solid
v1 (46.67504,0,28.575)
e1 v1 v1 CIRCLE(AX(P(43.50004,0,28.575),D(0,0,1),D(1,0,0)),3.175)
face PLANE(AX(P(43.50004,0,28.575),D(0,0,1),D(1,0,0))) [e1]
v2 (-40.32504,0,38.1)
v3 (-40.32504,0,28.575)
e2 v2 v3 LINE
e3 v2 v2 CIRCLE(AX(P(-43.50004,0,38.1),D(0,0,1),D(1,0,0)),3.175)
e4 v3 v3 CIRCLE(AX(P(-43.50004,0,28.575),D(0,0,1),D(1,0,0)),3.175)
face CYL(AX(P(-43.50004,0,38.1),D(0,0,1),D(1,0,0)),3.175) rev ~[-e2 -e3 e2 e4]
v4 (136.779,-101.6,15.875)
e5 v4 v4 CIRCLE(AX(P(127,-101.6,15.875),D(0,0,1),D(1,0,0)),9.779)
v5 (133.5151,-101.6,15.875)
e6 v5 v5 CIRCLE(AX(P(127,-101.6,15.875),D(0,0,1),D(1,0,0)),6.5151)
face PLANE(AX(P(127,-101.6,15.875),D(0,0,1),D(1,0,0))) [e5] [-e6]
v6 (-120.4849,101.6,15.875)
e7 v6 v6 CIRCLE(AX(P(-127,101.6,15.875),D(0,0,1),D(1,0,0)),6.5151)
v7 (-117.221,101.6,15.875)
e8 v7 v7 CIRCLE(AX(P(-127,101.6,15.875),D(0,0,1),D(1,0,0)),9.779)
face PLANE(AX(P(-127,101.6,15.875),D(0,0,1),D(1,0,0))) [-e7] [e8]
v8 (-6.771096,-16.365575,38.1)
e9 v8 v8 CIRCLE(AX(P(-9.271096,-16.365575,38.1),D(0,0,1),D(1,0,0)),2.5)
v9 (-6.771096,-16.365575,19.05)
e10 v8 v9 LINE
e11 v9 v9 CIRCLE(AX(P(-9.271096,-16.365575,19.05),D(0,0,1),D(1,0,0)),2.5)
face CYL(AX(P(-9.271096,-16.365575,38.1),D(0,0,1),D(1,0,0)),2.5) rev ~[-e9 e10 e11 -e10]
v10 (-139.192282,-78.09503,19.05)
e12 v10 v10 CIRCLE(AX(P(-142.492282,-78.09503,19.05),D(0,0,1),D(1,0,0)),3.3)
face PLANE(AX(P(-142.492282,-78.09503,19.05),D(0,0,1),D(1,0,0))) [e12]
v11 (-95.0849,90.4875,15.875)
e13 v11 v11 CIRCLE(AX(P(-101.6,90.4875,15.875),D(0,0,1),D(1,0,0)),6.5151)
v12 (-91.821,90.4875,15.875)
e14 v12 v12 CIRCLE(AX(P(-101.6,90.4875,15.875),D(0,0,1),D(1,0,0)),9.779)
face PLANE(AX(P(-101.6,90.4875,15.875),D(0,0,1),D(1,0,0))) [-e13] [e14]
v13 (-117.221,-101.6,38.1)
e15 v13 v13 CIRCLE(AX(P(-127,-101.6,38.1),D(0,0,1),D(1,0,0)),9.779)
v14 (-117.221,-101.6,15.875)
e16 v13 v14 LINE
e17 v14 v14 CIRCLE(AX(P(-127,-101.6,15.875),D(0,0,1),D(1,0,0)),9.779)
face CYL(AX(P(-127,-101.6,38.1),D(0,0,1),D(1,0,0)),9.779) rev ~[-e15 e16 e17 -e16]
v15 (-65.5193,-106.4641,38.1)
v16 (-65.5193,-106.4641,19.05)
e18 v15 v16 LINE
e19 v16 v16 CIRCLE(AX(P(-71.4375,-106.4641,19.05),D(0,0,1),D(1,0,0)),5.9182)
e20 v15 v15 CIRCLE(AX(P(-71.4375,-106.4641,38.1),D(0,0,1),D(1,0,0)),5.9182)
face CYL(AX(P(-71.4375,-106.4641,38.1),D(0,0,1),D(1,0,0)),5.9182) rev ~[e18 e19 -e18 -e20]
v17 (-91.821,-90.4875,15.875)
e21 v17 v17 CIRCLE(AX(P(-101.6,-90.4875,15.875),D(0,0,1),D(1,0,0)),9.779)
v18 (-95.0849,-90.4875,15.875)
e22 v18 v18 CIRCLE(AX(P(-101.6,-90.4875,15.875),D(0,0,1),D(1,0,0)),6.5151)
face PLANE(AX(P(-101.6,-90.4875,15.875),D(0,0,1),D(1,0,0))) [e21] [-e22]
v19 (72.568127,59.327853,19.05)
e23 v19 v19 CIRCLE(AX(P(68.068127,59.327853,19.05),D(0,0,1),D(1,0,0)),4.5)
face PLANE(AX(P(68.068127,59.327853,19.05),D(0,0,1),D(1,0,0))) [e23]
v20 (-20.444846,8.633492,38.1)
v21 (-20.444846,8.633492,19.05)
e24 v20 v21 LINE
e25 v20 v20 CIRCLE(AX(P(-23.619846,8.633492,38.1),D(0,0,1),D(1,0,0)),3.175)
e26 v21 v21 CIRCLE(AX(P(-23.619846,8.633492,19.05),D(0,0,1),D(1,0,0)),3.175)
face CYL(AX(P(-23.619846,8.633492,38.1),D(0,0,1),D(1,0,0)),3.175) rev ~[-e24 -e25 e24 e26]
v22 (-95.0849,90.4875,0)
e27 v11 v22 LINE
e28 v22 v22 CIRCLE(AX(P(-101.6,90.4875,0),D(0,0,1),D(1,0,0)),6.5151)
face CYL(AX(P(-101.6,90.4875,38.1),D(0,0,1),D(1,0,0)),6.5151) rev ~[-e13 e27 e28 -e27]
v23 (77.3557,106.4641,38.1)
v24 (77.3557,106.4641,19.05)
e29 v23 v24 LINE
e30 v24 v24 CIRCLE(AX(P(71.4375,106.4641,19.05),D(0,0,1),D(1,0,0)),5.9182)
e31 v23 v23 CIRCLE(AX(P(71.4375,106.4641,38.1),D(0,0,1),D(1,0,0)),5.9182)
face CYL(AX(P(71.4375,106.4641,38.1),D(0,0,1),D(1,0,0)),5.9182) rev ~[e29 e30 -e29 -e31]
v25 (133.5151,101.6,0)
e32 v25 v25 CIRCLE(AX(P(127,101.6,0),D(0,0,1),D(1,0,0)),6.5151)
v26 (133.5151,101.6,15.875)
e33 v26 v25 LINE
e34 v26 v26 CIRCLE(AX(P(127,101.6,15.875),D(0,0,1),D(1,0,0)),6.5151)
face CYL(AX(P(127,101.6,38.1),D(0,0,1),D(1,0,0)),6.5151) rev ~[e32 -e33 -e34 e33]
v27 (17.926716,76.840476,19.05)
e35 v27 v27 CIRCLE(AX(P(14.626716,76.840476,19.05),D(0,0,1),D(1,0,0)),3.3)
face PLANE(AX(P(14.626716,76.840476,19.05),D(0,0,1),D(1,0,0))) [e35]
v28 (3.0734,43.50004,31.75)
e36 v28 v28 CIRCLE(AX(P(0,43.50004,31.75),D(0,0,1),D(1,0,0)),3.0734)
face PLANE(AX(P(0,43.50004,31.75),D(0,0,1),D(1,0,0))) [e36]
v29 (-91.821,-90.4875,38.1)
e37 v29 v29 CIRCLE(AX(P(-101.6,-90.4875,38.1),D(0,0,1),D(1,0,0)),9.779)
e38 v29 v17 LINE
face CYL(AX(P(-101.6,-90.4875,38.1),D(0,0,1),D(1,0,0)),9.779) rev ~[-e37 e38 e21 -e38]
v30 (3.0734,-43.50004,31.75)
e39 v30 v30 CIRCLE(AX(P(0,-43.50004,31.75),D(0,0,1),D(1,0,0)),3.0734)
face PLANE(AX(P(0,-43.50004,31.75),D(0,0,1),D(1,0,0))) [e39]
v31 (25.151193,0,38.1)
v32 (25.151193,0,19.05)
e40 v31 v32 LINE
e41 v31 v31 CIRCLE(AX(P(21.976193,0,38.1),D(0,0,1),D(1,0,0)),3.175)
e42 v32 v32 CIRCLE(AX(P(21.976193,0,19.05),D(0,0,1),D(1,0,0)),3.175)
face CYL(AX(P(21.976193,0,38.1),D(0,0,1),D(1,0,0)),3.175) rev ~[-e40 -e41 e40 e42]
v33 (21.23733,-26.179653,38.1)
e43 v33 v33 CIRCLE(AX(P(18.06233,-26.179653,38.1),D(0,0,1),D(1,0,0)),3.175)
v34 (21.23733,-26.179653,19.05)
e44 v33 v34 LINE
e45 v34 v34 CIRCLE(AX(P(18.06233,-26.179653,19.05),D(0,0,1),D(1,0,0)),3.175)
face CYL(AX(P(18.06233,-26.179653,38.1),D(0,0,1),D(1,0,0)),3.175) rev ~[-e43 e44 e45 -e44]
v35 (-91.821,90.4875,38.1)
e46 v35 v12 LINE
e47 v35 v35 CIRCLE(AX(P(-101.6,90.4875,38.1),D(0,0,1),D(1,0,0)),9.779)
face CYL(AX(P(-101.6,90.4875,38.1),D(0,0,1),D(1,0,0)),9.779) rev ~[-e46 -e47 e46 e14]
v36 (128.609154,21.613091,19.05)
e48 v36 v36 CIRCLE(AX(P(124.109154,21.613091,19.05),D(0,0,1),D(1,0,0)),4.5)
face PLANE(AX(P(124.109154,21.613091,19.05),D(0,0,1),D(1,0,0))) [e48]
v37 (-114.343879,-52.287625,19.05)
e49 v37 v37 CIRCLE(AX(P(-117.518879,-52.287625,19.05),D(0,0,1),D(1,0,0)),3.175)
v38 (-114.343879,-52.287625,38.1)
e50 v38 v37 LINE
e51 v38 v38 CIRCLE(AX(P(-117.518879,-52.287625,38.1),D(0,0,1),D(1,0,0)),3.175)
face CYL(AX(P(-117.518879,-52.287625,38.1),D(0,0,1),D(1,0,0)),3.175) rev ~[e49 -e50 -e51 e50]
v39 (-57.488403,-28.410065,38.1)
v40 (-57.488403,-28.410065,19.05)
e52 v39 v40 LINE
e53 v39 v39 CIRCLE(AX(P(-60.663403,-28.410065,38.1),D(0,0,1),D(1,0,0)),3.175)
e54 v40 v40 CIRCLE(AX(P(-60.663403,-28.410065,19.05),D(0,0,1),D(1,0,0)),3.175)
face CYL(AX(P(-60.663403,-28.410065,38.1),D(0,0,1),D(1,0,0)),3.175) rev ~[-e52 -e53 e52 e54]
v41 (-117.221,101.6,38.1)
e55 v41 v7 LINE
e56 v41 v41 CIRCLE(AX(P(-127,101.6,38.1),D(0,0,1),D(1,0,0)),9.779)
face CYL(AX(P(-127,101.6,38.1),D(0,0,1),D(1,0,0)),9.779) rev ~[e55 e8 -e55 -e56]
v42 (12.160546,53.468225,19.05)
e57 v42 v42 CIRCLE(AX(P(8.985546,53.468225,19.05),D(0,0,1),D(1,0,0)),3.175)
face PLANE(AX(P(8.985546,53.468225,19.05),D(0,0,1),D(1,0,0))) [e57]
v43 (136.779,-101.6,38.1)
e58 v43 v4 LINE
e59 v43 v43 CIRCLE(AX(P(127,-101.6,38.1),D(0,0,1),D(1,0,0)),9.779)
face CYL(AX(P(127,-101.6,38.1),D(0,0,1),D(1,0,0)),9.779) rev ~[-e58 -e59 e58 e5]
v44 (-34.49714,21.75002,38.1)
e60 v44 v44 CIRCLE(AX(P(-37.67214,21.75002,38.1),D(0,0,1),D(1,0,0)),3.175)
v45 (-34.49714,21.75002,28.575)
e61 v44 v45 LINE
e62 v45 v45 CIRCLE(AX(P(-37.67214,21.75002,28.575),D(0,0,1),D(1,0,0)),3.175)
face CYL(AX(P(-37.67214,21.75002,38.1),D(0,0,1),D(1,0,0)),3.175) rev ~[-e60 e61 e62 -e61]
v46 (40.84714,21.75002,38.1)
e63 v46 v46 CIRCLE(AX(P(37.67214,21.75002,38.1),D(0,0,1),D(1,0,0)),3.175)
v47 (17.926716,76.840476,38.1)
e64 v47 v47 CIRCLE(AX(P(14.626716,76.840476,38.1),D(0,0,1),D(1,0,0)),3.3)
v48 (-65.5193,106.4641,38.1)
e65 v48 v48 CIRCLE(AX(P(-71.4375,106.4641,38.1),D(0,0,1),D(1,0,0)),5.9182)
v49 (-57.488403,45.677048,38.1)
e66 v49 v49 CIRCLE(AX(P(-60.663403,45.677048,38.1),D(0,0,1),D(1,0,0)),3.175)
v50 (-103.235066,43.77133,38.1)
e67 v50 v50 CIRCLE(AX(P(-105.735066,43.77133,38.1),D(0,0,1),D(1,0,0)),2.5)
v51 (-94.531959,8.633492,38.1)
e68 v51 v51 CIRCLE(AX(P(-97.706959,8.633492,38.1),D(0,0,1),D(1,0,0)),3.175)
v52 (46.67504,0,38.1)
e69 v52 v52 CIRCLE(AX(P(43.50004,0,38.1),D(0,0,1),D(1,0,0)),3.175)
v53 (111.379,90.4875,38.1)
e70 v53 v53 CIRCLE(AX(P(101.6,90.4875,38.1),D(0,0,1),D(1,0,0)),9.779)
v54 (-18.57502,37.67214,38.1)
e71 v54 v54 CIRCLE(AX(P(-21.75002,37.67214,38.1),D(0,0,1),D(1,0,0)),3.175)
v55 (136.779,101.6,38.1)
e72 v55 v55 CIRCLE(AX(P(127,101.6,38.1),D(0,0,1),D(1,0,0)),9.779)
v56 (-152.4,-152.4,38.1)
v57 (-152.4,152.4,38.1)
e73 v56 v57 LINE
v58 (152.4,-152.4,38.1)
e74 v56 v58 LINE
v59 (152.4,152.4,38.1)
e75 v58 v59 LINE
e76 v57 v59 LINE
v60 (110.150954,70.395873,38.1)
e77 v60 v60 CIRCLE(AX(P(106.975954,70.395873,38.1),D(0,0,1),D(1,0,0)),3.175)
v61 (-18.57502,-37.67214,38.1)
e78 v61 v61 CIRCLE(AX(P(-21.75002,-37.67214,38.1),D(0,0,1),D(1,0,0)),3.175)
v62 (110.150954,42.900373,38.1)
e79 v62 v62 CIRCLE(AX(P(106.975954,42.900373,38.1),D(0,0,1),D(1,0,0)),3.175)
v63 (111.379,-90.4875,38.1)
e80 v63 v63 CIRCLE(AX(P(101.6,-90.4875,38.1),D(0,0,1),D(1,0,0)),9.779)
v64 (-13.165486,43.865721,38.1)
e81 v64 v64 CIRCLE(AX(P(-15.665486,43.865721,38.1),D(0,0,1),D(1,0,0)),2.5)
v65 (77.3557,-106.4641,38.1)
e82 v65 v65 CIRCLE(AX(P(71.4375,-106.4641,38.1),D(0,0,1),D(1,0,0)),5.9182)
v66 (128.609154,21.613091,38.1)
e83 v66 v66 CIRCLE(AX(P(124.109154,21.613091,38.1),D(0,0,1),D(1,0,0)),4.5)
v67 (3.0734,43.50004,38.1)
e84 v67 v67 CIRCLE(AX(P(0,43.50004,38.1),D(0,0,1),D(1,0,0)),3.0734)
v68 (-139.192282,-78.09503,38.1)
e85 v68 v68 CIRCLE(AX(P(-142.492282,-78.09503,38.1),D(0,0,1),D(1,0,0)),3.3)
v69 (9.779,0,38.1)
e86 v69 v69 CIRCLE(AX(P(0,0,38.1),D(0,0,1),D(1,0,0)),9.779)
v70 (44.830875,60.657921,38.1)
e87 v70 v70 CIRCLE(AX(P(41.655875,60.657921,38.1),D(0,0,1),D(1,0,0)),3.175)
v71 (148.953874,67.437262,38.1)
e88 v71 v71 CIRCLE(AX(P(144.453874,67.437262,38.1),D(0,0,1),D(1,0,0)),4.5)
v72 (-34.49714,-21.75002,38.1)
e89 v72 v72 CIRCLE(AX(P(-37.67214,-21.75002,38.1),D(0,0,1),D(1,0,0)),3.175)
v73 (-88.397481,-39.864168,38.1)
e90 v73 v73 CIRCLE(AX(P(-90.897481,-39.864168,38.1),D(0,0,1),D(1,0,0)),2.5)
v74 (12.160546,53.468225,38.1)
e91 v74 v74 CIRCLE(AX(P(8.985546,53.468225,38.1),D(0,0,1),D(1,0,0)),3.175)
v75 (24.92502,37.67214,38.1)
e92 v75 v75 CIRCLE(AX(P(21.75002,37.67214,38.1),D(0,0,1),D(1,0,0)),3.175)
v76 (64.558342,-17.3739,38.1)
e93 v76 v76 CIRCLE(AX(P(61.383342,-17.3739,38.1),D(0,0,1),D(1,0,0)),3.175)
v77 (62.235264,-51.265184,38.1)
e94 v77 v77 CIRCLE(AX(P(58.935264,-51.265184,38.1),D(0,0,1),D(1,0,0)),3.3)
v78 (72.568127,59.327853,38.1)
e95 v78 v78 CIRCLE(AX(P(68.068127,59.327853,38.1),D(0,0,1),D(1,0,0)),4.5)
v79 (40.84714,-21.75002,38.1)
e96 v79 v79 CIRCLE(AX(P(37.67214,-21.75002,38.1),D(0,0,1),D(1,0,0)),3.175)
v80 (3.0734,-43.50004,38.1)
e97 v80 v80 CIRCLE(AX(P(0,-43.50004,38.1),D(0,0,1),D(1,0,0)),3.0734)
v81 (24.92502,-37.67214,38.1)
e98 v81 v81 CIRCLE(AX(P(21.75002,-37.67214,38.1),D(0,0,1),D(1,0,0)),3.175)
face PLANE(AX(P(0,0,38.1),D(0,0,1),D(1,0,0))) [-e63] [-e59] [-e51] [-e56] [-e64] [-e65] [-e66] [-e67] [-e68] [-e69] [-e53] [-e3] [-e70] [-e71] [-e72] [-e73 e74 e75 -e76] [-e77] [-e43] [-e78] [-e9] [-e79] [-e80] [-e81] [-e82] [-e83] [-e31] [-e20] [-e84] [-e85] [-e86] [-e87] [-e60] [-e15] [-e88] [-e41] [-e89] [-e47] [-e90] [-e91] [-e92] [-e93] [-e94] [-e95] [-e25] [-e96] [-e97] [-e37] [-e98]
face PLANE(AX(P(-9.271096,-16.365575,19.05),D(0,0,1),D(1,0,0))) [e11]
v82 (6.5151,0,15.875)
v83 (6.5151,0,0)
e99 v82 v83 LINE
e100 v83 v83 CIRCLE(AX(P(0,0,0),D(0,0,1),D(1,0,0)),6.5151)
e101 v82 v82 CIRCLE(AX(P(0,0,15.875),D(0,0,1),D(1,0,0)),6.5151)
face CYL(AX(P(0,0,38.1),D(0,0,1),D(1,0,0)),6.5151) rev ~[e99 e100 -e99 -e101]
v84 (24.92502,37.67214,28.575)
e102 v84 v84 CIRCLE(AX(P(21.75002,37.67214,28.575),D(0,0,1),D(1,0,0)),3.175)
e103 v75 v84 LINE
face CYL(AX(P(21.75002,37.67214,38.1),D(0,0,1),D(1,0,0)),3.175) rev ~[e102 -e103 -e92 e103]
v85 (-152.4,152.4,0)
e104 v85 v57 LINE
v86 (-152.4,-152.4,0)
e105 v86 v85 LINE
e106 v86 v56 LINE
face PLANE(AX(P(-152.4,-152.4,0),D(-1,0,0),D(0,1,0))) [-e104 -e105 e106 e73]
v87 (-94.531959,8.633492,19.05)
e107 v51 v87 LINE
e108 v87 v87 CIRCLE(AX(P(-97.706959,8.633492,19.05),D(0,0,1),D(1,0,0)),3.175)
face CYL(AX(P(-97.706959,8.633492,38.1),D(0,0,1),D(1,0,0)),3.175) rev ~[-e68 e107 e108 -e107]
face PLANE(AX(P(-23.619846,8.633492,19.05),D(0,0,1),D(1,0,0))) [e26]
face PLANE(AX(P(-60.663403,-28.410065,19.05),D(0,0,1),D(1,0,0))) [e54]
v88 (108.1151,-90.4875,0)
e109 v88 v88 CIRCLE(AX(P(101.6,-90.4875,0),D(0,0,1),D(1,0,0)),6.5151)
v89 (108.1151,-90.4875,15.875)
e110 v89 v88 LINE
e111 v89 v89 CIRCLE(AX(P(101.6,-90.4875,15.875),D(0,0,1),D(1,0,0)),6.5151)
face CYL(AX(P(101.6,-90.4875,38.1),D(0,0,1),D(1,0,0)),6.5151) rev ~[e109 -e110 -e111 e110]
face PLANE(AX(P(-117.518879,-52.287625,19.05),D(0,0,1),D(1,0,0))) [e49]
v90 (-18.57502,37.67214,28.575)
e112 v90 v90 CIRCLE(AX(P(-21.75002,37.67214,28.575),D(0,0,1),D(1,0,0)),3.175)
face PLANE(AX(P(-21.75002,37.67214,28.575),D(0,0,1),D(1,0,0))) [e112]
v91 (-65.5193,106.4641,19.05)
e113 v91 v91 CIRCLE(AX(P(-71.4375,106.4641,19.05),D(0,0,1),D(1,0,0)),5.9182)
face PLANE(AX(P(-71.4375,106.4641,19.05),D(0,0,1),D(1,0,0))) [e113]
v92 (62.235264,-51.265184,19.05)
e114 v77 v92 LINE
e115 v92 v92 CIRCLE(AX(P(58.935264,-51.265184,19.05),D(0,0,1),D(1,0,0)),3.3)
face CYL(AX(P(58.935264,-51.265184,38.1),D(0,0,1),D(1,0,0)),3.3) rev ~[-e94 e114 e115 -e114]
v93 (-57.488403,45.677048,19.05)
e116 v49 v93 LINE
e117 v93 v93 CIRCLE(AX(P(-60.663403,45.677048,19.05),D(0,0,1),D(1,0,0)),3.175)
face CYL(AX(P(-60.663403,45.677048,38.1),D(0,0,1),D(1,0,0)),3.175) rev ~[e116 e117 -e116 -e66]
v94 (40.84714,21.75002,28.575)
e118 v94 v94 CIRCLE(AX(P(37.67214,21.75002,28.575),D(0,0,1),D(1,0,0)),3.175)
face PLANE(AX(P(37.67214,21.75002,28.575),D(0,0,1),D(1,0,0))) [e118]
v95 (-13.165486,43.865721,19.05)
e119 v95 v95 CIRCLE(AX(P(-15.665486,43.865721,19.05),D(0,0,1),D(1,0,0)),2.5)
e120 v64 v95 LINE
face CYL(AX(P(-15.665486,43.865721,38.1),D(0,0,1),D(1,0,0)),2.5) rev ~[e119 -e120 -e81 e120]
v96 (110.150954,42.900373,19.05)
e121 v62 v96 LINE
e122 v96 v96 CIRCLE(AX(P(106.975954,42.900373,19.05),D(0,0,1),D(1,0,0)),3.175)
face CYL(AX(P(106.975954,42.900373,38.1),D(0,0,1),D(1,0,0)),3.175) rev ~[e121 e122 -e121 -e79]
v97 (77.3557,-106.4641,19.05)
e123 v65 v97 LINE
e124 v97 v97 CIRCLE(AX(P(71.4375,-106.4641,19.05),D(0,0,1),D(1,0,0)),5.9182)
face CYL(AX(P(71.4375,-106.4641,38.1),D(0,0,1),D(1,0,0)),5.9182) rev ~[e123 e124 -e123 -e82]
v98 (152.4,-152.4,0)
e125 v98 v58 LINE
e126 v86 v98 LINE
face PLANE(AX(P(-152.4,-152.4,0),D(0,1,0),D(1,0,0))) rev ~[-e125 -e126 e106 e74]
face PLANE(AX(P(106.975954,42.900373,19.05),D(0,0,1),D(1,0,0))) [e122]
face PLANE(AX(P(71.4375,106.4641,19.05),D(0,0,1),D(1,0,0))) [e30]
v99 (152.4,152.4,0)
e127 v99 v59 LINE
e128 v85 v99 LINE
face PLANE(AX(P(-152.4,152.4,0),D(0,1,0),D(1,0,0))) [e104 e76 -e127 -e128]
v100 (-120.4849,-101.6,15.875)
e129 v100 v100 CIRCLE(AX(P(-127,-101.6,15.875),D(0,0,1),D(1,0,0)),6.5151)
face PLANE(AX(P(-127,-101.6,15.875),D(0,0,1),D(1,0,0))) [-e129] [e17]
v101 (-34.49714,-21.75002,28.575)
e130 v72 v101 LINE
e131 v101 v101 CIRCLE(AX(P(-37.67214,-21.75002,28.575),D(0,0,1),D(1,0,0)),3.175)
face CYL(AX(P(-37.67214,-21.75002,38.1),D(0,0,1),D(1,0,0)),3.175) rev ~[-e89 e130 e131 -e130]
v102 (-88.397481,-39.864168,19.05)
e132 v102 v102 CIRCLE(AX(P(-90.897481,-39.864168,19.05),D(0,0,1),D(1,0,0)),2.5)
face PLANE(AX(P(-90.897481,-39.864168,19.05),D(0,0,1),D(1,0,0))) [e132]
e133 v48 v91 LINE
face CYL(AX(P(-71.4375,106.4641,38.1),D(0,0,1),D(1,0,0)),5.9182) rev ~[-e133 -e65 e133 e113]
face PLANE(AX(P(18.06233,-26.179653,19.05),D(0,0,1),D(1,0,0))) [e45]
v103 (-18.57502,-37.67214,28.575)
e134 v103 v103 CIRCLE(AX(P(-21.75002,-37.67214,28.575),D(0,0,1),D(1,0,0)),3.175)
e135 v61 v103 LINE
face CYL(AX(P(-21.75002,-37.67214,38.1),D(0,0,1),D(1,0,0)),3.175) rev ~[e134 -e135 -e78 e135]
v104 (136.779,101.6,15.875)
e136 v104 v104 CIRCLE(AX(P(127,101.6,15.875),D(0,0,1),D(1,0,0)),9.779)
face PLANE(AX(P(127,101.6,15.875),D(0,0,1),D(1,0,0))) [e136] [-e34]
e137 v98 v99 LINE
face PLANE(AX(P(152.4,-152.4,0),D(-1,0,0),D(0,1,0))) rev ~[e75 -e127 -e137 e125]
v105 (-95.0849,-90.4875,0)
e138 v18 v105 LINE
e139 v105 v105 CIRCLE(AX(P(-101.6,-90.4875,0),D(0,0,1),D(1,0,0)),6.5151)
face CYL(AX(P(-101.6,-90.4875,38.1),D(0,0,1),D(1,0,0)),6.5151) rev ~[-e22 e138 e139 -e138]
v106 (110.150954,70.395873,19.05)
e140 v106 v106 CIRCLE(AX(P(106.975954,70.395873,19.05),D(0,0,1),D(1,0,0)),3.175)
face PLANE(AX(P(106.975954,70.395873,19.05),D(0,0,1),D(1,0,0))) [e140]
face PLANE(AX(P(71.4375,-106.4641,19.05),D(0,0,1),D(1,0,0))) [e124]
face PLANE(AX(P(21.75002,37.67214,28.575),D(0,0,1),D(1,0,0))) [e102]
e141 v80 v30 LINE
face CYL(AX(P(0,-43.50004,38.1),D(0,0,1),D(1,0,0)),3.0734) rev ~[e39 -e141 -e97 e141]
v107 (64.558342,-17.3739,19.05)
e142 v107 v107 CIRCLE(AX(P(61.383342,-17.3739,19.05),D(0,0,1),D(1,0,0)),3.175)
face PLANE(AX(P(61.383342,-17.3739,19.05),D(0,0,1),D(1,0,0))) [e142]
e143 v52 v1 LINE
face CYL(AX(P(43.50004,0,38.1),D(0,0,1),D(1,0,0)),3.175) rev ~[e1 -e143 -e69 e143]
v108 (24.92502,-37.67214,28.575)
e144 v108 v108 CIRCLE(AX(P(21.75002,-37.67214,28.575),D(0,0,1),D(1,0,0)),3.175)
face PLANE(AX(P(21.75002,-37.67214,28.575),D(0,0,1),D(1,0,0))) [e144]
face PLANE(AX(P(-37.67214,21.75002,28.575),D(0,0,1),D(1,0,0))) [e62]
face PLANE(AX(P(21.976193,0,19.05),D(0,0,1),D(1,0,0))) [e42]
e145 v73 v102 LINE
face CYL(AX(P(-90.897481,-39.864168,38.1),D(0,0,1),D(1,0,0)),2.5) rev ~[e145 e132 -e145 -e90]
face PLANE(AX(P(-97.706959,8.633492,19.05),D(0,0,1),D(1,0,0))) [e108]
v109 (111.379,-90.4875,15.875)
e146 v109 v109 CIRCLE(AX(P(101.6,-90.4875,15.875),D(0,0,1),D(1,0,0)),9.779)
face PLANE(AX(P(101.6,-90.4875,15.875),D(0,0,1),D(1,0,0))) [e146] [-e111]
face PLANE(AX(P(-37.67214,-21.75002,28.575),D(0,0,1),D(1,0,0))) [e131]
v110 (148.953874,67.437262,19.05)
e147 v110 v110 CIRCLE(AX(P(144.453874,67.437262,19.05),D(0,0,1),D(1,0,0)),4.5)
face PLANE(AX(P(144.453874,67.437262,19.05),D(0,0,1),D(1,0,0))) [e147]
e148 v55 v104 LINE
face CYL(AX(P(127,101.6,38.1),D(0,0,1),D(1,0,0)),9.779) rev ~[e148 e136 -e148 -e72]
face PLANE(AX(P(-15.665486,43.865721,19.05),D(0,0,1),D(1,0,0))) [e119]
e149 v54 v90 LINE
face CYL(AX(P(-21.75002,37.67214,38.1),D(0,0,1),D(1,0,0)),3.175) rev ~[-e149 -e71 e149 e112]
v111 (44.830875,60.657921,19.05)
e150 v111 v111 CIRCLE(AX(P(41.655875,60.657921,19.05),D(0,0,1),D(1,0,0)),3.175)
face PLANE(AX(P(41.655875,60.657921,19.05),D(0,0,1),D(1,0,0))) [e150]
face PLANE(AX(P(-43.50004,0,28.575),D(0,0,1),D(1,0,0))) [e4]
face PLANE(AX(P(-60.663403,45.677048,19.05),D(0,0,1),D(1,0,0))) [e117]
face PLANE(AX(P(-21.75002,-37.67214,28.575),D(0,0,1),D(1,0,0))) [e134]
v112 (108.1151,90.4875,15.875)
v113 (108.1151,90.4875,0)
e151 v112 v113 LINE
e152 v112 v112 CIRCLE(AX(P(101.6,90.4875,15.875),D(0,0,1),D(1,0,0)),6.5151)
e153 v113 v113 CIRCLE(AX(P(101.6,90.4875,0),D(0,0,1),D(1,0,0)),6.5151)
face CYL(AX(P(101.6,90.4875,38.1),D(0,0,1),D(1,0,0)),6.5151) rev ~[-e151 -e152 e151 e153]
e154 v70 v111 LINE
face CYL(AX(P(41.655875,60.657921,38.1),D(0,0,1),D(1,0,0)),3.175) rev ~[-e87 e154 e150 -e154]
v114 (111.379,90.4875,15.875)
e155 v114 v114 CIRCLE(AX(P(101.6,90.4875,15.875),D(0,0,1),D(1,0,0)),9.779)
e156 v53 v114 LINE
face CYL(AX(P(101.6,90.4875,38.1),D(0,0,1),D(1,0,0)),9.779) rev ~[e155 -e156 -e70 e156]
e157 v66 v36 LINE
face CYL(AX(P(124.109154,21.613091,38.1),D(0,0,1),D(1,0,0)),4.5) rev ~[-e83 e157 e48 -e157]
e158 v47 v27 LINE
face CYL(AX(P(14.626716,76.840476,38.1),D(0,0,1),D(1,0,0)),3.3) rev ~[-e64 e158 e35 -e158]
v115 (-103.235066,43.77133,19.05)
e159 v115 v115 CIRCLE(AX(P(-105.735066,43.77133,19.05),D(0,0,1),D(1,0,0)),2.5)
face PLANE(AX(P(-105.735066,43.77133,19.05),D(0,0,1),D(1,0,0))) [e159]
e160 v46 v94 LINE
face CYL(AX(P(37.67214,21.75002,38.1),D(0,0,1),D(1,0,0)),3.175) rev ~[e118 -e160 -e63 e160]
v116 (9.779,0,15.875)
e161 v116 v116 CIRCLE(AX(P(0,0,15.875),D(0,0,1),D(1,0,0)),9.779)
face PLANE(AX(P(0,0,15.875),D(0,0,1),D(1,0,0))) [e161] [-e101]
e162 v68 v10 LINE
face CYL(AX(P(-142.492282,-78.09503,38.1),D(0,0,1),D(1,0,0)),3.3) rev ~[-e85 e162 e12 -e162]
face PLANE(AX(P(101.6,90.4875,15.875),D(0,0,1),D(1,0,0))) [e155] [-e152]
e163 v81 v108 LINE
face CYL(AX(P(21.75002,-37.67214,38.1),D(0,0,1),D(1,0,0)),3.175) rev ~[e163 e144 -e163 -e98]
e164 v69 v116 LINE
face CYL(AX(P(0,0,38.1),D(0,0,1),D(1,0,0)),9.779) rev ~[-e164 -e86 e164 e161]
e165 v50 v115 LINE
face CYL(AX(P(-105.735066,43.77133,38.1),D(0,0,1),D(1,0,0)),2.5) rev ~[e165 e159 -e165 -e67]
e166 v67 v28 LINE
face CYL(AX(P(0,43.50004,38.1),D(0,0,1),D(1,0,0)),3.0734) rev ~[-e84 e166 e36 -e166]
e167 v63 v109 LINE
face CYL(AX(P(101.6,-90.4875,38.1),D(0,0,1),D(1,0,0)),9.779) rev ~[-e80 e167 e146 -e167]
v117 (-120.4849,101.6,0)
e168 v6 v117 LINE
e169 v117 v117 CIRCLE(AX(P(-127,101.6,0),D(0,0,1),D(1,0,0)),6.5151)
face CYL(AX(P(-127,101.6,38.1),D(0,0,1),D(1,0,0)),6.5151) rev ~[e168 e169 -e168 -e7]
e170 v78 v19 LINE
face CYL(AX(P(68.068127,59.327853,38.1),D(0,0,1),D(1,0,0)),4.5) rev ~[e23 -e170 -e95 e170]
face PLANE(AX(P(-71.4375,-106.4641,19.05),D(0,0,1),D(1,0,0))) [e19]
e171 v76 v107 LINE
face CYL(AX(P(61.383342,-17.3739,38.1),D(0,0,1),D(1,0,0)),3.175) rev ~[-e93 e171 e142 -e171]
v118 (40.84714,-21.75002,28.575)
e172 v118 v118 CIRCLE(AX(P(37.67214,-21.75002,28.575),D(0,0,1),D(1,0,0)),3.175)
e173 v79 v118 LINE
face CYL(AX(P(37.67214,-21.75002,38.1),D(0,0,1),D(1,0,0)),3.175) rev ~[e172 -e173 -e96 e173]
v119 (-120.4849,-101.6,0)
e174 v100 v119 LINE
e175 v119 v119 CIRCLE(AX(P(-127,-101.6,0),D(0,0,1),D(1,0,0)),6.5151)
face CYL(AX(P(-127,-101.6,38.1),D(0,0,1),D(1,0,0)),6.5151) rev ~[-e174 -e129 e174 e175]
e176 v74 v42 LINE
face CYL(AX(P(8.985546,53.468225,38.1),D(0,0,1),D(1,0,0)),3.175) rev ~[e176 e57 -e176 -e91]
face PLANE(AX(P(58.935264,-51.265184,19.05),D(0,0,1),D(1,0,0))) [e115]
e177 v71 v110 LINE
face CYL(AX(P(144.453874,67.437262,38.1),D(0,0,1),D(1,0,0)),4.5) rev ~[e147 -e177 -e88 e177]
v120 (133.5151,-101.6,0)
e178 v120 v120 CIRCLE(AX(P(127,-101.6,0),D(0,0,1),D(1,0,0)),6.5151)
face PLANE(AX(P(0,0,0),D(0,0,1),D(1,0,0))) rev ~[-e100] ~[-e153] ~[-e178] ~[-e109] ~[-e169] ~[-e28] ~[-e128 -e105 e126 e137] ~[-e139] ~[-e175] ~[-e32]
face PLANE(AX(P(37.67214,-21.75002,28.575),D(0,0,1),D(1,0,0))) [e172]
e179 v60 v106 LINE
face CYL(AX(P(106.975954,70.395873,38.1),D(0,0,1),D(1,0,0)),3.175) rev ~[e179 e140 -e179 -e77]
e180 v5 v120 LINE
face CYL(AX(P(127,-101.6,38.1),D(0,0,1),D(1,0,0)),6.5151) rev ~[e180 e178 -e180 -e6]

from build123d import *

# Parameters (mm, degrees)
SKETCH1_W                               = 304.8
SKETCH1_H                               = 304.8
BOSS_EXTRUDE1_DEPTH                     = 38.1
SKETCH2_R                               = 6.5151
HAAS_T_SLOT_HOLES_DEPTH                 = 219.867836833
SKETCH3_R                               = 9.779
HAAS_COUNTER_BORES_DEPTH                = 22.225
SKETCH4_R                               = 6.5151
TORMACH_T_SLOT_HOLES_DEPTH              = 219.867836833
SKETCH5_R                               = 9.779
TORMACH_COUNTER_BORES_DEPTH             = 22.225
SKETCH6_R                               = 3.0734
SPROCKET_LOCATING_HOLES_DEPTH           = 6.35
SKETCH7_R                               = 3.175
SPROCKET_MOUNTING_CLEARANCE_HOLES_DEPTH = 9.525
SKETCH8_R                               = 5.9182
F_1_2_13_TAPPED_HOLES_DEPTH             = 19.05
SKETCH9_R                               = 3.175
SKETCH9_R_2                             = 4.5
SKETCH9_R_3                             = 3.3
SKETCH9_R_4                             = 2.5
CUT_EXTRUDE1_DEPTH                      = 19.05


with BuildPart() as part:
    # Sketch1 → Boss-Extrude1 (new body)
    with BuildSketch(Plane.XY):
        Rectangle(SKETCH1_W, SKETCH1_H)
    extrude(amount=BOSS_EXTRUDE1_DEPTH)

    # Sketch2 → HAAS T-Slot Holes (cut, through all)
    with BuildSketch(Plane.XY.offset(38.1)):
        with Locations((-127, 101.6)):
            Circle(SKETCH2_R)
        with Locations((127, 101.6)):
            Circle(SKETCH2_R)
        with Locations((127, -101.6)):
            Circle(SKETCH2_R)
        with Locations((-127, -101.6)):
            Circle(SKETCH2_R)
        Circle(SKETCH2_R)
    extrude(amount=-HAAS_T_SLOT_HOLES_DEPTH, mode=Mode.SUBTRACT)

    # Sketch3 → HAAS Counter Bores (cut)
    with BuildSketch(Plane.XY.offset(38.1)):
        with Locations((-127, 101.6)):
            Circle(SKETCH3_R)
        with Locations((127, 101.6)):
            Circle(SKETCH3_R)
        Circle(SKETCH3_R)
        with Locations((127, -101.6)):
            Circle(SKETCH3_R)
        with Locations((-127, -101.6)):
            Circle(SKETCH3_R)
    extrude(amount=-HAAS_COUNTER_BORES_DEPTH, mode=Mode.SUBTRACT)

    # Sketch4 → Tormach T-Slot Holes (cut, through all)
    with BuildSketch(Plane.XY.offset(38.1)):
        with Locations((-101.6, 90.4875)):
            Circle(SKETCH4_R)
        with Locations((101.6, 90.4875)):
            Circle(SKETCH4_R)
        with Locations((-101.6, -90.4875)):
            Circle(SKETCH4_R)
        with Locations((101.6, -90.4875)):
            Circle(SKETCH4_R)
    extrude(amount=-TORMACH_T_SLOT_HOLES_DEPTH, mode=Mode.SUBTRACT)

    # Sketch5 → Tormach Counter bores (cut)
    with BuildSketch(Plane.XY.offset(38.1)):
        with Locations((-101.6, 90.4875)):
            Circle(SKETCH5_R)
        with Locations((101.6, 90.4875)):
            Circle(SKETCH5_R)
        with Locations((101.6, -90.4875)):
            Circle(SKETCH5_R)
        with Locations((-101.6, -90.4875)):
            Circle(SKETCH5_R)
    extrude(amount=-TORMACH_COUNTER_BORES_DEPTH, mode=Mode.SUBTRACT)

    # Sketch6 → Sprocket Locating Holes (cut)
    with BuildSketch(Plane.XY.offset(38.1)):
        with Locations((0, 43.50004)):
            Circle(SKETCH6_R)
        with Locations((0, -43.50004)):
            Circle(SKETCH6_R)
    extrude(amount=-SPROCKET_LOCATING_HOLES_DEPTH, mode=Mode.SUBTRACT)

    # Sketch7 → Sprocket Mounting clearance holes (cut)
    with BuildSketch(Plane.XY.offset(38.1)):
        with Locations((43.50004, 0)):
            Circle(SKETCH7_R)
        with Locations((37.672139706, -21.75002)):
            Circle(SKETCH7_R)
        with Locations((21.75002, -37.672139706)):
            Circle(SKETCH7_R)
        with Locations((-21.75002, -37.672139706)):
            Circle(SKETCH7_R)
        with Locations((-37.672139706, -21.75002)):
            Circle(SKETCH7_R)
        with Locations((-43.50004, 0)):
            Circle(SKETCH7_R)
        with Locations((-37.672139706, 21.75002)):
            Circle(SKETCH7_R)
        with Locations((-21.75002, 37.672139706)):
            Circle(SKETCH7_R)
        with Locations((21.75002, 37.672139706)):
            Circle(SKETCH7_R)
        with Locations((37.672139706, 21.75002)):
            Circle(SKETCH7_R)
    extrude(amount=-SPROCKET_MOUNTING_CLEARANCE_HOLES_DEPTH, mode=Mode.SUBTRACT)

    # Sketch8 → 1/2-13 Tapped Holes (cut)
    with BuildSketch(Plane.XY.offset(38.1)):
        with Locations((-71.4375, 106.4641)):
            Circle(SKETCH8_R)
        with Locations((71.4375, 106.4641)):
            Circle(SKETCH8_R)
        with Locations((71.4375, -106.4641)):
            Circle(SKETCH8_R)
        with Locations((-71.4375, -106.4641)):
            Circle(SKETCH8_R)
    extrude(amount=-F_1_2_13_TAPPED_HOLES_DEPTH, mode=Mode.SUBTRACT)

    # Sketch9 → Cut-Extrude1 (cut)
    with BuildSketch(Plane.XY.offset(38.1)):
        with Locations((-117.518879062, -52.287624978)):
            Circle(SKETCH9_R)
        with Locations((-60.663402782, -28.410064907)):
            Circle(SKETCH9_R)
        with Locations((-60.663402782, 45.677048092)):
            Circle(SKETCH9_R)
        with Locations((-23.619846283, 8.633491593)):
            Circle(SKETCH9_R)
        with Locations((-97.706959282, 8.633491593)):
            Circle(SKETCH9_R)
        with Locations((18.062330035, -26.179653161)):
            Circle(SKETCH9_R)
        with Locations((21.976192961, 0)):
            Circle(SKETCH9_R)
        with Locations((61.383342435, -17.37389998)):
            Circle(SKETCH9_R)
        with Locations((106.975954286, 70.395873002)):
            Circle(SKETCH9_R)
        with Locations((106.975954286, 42.900373002)):
            Circle(SKETCH9_R)
        with Locations((144.453874291, 67.437261617)):
            Circle(SKETCH9_R_2)
        with Locations((124.109154154, 21.613091073)):
            Circle(SKETCH9_R_2)
        with Locations((68.068126679, 59.327852632)):
            Circle(SKETCH9_R_2)
        with Locations((58.935264171, -51.265183733)):
            Circle(SKETCH9_R_3)
        with Locations((-142.492281823, -78.095030045)):
            Circle(SKETCH9_R_3)
        with Locations((-105.735065575, 43.771330358)):
            Circle(SKETCH9_R_4)
        with Locations((-90.897481142, -39.864168204)):
            Circle(SKETCH9_R_4)
        with Locations((-9.271096491, -16.365575471)):
            Circle(SKETCH9_R_4)
        with Locations((-15.665485897, 43.865720815)):
            Circle(SKETCH9_R_4)
        with Locations((14.626715825, 76.840475586)):
            Circle(SKETCH9_R_3)
        with Locations((8.985545702, 53.468225166)):
            Circle(SKETCH9_R)
        with Locations((41.65587457, 60.657920909)):
            Circle(SKETCH9_R)
    extrude(amount=-CUT_EXTRUDE1_DEPTH, mode=Mode.SUBTRACT)


solid = part.part
